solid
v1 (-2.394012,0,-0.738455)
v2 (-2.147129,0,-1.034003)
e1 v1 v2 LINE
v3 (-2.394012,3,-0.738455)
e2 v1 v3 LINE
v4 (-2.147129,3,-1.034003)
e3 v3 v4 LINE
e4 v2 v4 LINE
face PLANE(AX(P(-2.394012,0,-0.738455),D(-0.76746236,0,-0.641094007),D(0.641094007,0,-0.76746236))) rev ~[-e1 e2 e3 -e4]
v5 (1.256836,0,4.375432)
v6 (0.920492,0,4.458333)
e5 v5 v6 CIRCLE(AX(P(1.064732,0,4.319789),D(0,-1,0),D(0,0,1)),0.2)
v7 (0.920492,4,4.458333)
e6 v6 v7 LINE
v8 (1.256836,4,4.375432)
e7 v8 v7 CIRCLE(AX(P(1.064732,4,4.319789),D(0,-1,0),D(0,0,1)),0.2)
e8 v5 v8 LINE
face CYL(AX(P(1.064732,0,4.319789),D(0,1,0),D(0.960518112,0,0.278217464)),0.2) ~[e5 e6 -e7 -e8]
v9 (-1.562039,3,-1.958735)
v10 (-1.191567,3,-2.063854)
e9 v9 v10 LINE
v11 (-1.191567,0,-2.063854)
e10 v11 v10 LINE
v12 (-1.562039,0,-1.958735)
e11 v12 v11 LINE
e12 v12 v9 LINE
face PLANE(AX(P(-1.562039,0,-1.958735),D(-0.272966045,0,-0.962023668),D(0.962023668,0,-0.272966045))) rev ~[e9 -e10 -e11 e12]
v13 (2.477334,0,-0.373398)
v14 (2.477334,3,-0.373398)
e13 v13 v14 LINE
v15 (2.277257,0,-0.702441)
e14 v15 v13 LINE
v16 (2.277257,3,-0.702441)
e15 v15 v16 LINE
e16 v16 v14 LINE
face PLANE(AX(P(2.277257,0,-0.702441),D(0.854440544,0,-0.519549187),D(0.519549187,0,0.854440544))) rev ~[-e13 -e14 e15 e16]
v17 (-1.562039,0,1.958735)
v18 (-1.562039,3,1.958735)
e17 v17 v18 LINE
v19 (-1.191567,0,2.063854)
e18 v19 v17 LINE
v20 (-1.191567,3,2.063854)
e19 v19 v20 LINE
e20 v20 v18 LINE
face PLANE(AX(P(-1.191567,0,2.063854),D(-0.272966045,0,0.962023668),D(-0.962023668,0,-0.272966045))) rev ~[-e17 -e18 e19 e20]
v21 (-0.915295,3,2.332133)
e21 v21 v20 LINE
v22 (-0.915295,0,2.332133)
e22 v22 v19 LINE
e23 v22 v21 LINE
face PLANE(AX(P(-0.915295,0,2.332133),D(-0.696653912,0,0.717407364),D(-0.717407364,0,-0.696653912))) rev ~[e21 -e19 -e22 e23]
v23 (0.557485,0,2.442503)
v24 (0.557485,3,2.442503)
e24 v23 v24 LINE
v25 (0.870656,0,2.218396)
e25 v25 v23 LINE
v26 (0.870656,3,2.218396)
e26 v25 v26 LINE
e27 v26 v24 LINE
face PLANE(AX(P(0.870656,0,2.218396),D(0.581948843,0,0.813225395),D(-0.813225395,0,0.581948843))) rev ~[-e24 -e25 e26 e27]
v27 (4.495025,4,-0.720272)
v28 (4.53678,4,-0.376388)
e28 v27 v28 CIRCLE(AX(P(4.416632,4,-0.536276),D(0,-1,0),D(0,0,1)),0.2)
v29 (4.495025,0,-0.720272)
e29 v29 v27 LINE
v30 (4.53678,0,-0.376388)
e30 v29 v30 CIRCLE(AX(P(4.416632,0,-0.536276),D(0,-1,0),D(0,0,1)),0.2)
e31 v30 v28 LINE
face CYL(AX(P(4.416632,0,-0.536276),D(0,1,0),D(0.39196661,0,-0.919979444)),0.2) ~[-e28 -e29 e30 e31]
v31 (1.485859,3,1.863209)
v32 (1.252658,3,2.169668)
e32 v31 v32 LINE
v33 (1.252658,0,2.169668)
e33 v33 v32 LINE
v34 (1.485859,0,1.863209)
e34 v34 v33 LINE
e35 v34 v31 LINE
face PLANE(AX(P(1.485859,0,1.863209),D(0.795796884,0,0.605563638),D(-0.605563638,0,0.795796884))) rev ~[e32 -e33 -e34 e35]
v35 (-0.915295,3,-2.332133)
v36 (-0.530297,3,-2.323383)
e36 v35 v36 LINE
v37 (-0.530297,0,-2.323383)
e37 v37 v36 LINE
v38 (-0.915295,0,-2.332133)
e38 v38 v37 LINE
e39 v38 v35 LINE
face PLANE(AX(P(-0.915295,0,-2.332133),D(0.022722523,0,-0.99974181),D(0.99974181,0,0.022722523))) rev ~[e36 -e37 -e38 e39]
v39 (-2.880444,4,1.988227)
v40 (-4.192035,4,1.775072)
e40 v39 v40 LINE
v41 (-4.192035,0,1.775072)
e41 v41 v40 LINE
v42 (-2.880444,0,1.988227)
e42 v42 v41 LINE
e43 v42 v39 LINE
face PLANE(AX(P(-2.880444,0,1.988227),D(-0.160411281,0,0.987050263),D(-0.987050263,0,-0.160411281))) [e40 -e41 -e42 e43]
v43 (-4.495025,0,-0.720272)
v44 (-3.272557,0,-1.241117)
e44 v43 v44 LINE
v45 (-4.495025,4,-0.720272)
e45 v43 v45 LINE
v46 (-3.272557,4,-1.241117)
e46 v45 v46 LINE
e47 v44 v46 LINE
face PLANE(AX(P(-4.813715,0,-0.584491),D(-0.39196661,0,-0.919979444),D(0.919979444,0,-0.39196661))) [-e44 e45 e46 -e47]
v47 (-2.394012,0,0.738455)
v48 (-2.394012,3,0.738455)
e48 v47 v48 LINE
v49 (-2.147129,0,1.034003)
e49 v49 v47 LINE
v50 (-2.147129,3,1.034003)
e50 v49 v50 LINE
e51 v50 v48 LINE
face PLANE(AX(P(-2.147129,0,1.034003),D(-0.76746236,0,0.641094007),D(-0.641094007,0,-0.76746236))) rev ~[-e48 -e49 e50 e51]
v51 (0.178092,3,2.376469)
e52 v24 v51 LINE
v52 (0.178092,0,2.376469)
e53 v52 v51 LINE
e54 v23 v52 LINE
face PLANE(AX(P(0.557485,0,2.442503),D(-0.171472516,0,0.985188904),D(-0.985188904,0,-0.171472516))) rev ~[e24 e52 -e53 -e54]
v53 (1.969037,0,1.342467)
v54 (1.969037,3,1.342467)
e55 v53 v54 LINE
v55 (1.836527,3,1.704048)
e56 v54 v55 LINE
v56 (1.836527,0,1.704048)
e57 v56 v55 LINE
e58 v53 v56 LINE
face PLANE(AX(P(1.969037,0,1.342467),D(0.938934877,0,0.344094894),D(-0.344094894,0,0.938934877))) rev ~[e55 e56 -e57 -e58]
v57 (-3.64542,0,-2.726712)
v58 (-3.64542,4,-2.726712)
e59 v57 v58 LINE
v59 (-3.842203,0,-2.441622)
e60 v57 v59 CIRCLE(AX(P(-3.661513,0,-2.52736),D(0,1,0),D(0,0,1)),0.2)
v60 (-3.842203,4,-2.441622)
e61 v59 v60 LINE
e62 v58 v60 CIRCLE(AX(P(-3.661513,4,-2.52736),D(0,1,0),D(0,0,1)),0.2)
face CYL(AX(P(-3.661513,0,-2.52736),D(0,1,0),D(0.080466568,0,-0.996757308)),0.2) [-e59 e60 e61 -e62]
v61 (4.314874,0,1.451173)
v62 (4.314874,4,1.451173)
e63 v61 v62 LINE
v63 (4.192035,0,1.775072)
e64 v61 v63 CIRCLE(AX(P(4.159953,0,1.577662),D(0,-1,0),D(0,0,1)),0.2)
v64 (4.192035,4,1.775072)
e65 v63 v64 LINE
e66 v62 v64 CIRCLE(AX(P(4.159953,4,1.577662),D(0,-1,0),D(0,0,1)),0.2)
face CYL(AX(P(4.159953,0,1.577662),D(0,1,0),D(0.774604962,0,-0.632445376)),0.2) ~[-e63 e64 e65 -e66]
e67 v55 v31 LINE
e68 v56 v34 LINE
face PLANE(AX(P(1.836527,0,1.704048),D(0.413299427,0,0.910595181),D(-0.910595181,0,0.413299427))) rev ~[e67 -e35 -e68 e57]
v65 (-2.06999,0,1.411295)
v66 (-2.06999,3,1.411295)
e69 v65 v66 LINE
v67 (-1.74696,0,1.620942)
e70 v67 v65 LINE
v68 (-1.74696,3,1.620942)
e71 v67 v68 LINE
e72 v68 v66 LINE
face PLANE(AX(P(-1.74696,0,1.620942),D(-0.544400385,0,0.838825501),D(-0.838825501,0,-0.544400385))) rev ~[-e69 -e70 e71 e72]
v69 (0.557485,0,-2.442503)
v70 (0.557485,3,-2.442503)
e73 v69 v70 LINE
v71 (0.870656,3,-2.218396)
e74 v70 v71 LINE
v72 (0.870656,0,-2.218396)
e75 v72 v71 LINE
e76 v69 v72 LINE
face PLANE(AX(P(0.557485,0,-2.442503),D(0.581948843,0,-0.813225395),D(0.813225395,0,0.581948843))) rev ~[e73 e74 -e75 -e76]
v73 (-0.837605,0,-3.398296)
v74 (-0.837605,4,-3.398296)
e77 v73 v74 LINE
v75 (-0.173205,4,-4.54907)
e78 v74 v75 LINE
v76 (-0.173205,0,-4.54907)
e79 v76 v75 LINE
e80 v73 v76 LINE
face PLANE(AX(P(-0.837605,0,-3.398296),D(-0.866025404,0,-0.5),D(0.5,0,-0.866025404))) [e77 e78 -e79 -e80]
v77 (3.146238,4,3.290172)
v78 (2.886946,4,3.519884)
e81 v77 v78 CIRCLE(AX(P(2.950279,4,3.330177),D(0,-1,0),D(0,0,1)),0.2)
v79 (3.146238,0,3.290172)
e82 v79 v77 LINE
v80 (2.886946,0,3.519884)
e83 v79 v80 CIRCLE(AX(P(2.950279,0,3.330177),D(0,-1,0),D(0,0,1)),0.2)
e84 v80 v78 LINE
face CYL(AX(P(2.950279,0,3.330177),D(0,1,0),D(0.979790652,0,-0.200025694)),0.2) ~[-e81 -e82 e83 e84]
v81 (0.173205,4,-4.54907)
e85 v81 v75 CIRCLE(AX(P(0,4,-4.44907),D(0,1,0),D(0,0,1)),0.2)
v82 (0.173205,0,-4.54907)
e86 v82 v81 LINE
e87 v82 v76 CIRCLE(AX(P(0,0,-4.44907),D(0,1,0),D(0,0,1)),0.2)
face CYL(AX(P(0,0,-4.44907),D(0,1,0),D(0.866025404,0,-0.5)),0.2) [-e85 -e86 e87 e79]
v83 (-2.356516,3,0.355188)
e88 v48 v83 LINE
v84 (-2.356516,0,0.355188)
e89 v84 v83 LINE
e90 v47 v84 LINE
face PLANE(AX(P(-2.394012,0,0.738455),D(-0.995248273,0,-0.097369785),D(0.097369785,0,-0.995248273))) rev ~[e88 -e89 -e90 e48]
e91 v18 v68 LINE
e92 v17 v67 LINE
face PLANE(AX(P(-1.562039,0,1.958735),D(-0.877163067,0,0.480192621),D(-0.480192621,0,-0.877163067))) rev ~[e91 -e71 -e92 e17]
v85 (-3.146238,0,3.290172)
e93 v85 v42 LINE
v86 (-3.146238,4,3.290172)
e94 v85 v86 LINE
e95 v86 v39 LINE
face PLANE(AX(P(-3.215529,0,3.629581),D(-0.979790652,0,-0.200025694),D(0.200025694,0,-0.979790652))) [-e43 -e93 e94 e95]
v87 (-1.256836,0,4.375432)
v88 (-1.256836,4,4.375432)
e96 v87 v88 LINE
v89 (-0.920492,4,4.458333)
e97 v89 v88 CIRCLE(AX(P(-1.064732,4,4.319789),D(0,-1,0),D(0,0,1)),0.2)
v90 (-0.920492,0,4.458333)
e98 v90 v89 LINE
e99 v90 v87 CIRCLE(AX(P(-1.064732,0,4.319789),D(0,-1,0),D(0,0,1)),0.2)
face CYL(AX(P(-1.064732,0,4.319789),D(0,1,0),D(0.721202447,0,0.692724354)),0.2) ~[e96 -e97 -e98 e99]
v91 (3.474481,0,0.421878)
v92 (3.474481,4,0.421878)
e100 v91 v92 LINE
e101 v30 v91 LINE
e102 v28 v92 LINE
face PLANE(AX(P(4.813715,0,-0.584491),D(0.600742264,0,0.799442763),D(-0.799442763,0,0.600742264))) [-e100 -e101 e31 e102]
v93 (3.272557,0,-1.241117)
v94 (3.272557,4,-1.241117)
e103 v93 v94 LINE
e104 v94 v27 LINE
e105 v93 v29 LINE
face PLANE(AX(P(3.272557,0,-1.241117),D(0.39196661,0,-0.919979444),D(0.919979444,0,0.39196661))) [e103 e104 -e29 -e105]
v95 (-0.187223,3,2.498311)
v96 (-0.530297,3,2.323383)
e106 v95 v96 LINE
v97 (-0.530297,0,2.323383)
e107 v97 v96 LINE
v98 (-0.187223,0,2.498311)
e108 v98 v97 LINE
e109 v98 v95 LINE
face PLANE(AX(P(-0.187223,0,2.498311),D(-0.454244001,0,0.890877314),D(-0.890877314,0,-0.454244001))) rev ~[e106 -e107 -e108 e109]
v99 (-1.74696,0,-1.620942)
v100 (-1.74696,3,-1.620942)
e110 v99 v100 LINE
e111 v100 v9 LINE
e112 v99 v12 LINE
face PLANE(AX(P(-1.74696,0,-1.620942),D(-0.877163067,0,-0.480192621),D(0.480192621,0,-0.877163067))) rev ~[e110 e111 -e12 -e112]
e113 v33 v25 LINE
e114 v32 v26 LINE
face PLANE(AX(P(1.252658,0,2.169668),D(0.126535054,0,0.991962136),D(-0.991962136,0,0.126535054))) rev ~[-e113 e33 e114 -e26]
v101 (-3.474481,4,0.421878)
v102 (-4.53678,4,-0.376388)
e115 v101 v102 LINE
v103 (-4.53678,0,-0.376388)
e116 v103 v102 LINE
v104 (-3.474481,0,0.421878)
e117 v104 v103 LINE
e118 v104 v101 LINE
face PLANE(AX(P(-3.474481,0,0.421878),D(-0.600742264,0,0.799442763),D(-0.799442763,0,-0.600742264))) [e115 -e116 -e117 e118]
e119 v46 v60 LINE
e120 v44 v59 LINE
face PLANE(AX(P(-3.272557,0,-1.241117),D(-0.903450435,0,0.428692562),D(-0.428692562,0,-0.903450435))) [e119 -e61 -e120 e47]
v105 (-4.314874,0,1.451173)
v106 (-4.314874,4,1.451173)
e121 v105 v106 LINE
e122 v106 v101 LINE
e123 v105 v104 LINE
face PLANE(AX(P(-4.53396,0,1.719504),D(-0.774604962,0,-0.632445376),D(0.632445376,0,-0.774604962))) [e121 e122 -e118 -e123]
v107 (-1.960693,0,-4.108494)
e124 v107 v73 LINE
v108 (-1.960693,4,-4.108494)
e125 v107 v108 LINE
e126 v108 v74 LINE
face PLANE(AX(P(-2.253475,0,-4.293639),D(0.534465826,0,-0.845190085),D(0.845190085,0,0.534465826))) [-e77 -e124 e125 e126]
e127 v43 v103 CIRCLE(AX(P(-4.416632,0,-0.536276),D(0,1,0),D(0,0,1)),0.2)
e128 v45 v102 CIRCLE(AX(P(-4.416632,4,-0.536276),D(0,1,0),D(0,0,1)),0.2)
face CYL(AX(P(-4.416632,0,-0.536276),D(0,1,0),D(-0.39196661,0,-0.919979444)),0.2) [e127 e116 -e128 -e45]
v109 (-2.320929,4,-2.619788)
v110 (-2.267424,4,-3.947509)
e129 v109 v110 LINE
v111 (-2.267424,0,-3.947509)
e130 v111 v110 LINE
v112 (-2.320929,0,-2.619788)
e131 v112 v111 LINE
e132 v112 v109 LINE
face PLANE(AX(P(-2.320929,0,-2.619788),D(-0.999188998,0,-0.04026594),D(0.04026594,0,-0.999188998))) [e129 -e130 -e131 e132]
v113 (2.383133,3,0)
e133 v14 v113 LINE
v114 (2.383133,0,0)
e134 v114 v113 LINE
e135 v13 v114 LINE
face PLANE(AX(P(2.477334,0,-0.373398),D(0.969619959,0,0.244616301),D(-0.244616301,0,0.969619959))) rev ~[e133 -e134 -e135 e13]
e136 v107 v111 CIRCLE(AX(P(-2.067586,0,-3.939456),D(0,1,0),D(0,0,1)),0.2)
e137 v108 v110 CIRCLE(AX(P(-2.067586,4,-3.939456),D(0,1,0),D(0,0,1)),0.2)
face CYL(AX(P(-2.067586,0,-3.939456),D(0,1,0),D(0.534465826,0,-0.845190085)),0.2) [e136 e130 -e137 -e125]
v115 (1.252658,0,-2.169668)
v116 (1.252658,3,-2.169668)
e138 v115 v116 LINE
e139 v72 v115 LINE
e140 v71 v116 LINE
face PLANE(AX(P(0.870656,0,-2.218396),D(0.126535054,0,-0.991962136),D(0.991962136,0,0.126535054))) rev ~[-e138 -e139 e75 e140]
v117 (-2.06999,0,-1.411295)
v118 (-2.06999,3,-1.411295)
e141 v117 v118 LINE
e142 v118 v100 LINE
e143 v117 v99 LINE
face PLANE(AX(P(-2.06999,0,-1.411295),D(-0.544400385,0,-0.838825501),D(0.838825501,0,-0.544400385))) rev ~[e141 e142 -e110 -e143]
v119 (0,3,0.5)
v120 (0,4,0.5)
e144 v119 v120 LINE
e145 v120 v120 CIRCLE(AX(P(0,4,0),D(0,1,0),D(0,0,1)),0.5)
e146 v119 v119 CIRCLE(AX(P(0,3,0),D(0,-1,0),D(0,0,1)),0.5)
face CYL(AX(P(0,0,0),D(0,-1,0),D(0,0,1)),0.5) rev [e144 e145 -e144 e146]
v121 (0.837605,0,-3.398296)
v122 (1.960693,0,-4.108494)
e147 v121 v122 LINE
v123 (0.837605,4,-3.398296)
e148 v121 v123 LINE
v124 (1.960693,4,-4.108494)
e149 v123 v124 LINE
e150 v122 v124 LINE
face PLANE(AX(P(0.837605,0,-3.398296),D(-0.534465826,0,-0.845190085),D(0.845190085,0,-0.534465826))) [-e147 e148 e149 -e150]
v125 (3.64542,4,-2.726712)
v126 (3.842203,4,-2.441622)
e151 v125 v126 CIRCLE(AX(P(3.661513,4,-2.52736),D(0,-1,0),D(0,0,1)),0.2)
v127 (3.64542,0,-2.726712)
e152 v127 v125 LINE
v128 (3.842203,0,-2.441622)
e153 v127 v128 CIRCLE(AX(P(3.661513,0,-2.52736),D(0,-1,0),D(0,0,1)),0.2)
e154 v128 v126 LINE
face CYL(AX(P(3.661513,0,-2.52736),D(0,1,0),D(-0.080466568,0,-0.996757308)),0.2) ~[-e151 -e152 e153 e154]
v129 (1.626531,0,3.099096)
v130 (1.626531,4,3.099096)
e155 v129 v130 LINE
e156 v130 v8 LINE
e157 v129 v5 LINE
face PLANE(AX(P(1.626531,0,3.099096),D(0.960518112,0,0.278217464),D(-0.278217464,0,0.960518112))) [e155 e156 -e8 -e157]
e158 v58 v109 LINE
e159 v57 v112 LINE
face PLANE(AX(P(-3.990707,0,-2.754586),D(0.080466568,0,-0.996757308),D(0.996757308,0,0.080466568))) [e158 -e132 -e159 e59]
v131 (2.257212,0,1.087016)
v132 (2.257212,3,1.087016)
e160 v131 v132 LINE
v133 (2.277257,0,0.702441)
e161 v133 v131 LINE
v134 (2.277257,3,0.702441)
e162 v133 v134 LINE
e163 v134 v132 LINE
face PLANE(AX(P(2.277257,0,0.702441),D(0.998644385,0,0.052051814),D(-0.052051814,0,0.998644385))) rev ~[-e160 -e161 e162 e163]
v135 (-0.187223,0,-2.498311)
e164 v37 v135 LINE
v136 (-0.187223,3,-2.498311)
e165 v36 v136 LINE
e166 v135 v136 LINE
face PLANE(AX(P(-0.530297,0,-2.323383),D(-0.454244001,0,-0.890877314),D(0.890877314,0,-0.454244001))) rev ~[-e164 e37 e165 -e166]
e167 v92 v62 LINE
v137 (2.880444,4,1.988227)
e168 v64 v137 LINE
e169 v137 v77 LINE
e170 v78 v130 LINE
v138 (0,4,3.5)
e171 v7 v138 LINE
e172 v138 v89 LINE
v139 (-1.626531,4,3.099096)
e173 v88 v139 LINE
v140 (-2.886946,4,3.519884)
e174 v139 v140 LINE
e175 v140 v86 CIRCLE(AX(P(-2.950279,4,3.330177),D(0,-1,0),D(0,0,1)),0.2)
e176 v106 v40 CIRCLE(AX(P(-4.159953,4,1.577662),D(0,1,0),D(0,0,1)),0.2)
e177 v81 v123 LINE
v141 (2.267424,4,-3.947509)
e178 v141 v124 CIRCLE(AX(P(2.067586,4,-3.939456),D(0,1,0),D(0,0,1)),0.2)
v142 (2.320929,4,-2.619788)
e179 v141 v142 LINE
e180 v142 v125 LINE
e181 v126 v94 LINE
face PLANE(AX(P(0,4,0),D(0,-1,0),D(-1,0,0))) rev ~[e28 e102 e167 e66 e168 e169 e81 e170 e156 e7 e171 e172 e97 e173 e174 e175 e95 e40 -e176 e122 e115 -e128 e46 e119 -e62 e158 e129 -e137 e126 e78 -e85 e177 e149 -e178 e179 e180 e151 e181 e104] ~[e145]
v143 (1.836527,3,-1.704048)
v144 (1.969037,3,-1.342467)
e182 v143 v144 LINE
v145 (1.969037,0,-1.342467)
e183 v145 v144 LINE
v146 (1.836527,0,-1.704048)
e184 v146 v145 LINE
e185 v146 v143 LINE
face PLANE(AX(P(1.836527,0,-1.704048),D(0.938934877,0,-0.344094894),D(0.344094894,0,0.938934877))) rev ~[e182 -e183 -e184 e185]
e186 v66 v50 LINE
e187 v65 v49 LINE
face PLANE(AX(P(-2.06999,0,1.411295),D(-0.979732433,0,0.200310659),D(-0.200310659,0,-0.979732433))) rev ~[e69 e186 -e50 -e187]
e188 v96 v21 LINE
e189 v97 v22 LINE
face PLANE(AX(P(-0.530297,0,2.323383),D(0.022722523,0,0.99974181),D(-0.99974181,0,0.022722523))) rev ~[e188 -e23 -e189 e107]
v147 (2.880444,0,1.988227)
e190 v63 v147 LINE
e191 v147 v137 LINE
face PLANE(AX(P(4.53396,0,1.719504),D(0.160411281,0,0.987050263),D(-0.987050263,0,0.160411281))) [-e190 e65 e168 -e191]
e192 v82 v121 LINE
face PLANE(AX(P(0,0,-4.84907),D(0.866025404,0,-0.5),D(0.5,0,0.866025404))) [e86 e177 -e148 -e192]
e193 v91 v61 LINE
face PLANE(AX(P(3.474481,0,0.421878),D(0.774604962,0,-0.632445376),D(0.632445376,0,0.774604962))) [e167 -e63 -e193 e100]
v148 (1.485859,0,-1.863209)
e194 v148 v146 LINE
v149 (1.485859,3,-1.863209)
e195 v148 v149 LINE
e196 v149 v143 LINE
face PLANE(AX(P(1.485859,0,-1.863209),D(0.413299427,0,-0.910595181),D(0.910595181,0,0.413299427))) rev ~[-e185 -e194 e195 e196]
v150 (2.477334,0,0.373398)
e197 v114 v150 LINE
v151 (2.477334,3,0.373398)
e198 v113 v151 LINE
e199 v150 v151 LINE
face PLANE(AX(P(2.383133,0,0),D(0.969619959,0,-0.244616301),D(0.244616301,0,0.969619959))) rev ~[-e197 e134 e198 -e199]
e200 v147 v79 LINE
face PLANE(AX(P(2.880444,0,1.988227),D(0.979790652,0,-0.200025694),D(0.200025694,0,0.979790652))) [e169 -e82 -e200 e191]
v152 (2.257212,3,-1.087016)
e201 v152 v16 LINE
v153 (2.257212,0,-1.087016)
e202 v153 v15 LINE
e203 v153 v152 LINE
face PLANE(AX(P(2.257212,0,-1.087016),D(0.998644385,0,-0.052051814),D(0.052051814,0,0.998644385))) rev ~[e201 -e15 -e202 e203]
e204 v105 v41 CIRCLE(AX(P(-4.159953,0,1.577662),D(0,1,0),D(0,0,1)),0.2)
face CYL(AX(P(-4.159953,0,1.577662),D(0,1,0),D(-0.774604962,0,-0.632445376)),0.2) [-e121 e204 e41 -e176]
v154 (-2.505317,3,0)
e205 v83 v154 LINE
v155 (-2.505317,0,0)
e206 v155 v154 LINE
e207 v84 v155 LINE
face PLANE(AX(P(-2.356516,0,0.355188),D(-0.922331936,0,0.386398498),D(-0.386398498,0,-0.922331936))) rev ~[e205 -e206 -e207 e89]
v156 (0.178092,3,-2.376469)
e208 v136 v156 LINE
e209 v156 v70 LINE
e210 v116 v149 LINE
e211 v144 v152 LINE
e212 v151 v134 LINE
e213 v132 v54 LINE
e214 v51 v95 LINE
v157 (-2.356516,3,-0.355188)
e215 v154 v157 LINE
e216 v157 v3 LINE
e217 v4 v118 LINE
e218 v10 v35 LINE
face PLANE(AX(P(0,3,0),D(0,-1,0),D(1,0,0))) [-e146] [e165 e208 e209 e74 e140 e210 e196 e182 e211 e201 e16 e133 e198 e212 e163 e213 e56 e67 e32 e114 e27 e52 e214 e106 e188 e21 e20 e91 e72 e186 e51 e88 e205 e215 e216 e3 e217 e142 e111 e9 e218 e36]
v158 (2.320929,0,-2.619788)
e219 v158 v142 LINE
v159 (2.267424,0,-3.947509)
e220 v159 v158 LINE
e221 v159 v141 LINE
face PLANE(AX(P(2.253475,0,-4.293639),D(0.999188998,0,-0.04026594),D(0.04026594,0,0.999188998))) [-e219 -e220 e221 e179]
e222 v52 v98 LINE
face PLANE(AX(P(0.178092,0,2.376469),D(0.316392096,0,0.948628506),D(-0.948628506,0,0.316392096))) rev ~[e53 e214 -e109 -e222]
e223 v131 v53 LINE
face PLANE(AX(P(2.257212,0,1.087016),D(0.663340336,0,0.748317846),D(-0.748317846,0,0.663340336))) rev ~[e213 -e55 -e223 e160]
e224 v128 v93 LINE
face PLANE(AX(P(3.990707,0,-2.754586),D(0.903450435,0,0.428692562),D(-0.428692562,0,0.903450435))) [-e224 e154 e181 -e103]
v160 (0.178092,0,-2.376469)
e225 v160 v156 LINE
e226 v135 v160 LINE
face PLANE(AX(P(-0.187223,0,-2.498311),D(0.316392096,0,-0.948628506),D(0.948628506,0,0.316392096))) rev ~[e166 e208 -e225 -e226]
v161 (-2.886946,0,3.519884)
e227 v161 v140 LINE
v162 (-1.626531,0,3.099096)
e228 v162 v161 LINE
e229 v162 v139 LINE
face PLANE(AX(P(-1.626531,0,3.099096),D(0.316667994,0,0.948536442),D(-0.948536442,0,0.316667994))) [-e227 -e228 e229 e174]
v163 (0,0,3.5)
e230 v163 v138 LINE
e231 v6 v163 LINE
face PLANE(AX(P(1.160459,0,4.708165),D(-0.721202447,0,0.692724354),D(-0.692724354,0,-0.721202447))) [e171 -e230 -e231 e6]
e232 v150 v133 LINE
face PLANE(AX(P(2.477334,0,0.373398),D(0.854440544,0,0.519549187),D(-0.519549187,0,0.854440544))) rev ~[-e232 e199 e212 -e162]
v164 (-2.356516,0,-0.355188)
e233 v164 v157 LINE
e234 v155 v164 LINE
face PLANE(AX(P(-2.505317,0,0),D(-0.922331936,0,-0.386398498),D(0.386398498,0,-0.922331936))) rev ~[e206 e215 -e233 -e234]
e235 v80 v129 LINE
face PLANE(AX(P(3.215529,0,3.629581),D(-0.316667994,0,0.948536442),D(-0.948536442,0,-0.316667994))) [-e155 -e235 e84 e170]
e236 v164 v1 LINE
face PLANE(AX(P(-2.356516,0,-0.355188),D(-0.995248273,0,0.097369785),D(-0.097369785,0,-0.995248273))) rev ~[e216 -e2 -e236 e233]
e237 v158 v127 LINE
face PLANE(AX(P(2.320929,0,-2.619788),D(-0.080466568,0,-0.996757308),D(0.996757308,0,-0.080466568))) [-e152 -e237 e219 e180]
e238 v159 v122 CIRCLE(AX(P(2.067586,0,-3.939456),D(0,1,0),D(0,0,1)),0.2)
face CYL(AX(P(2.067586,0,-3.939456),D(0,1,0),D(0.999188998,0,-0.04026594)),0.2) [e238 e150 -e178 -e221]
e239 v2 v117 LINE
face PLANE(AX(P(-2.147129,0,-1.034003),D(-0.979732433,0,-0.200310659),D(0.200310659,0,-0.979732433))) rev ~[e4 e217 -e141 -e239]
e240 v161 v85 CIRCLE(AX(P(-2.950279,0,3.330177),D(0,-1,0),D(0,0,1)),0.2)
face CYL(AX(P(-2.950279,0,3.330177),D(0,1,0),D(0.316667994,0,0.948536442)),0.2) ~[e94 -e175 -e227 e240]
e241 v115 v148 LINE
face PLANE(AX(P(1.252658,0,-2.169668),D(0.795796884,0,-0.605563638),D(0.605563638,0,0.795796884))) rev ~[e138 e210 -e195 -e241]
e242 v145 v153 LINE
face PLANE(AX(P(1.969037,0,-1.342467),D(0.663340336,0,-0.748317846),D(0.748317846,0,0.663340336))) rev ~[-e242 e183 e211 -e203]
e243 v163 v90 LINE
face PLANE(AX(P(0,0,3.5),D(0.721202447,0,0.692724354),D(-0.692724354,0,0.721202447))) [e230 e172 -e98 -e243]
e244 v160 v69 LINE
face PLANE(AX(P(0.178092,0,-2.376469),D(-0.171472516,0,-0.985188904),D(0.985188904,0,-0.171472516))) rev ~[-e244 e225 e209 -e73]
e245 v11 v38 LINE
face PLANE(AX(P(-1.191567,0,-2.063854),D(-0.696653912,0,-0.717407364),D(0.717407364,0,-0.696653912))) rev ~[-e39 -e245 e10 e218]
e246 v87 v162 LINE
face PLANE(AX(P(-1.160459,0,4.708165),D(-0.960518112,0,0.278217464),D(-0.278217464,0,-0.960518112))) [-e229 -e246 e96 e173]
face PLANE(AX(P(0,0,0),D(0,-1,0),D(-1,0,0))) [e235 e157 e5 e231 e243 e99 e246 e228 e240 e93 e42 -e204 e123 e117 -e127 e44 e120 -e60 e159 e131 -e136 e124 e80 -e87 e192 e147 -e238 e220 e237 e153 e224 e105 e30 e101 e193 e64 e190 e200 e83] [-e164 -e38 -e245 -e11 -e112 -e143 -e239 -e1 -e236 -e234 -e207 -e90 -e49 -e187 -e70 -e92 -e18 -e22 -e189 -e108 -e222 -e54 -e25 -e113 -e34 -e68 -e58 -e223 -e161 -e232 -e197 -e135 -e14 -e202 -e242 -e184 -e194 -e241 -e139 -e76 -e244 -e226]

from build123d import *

# Parameters (mm, degrees)
SKETCH1_R           = 0.5
BOSS_EXTRUDE1_DEPTH = 4
CUT_EXTRUDE1_DEPTH  = 3
FILLET1_R           = 0.2


with BuildPart() as part:
    # Sketch1 → Boss-Extrude1 (new body)
    with BuildSketch(Plane(origin=(0, 0, 0), x_dir=(1, 0, 0), z_dir=(0, 1, 0))):
        Polygon((2.320929304, 2.619787619), (3.990706765, 2.754585991), (3.272556849, 1.241117105), (4.813715291, 0.584490857), (3.474481059, -0.421878381), (4.533959656, -1.719504088), (2.880443531, -1.988226614), (3.215528503, -3.629581369), (1.626531102, -3.09909609), (1.160458522, -4.708165299), (0, -3.5), (-1.160458522, -4.708165299), (-1.626531102, -3.09909609), (-3.215528503, -3.629581369), (-2.880443531, -1.988226614), (-4.533959656, -1.719504088), (-3.474481059, -0.421878381), (-4.813715291, 0.584490857), (-3.272556849, 1.241117105), (-3.990706765, 2.754585991), (-2.320929304, 2.619787619), (-2.253475412, 4.293638671), (-0.837604825, 3.398296361), (0, 4.849070475), (0.837604825, 3.398296361), (2.253475412, 4.293638671), align=None)
        with Locations(Location((0, 0, 0), (0, 0, 270))):
            Circle(SKETCH1_R, mode=Mode.SUBTRACT)
    extrude(amount=BOSS_EXTRUDE1_DEPTH)

    # Sketch2 → Cut-Extrude1 (cut)
    with BuildSketch(Plane.XZ):
        Polygon((-2.356515562, -0.355187571), (-2.394012407, -0.73845503), (-2.147128813, -1.03400274), (-2.069989712, -1.411295089), (-1.746960246, -1.620942227), (-1.562039347, -1.958735387), (-1.191566595, -2.063853884), (-0.915294931, -2.332133449), (-0.530297023, -2.323383066), (-0.187222544, -2.49831122), (0.178091766, -2.376469467), (0.557485388, -2.442503076), (0.870656321, -2.218396127), (1.252658297, -2.169667815), (1.485859241, -1.863208555), (1.836527019, -1.704048047), (1.969037046, -1.342466727), (2.257212255, -1.087016131), (2.27725727, -0.702440839), (2.477334277, -0.373398063), (2.383133191, 0), (2.477334277, 0.373398063), (2.27725727, 0.702440839), (2.257212255, 1.087016131), (1.969037046, 1.342466727), (1.836527019, 1.704048047), (1.485859241, 1.863208555), (1.252658297, 2.169667815), (0.870656321, 2.218396127), (0.557485388, 2.442503076), (0.178091766, 2.376469467), (-0.187222544, 2.49831122), (-0.530297023, 2.323383066), (-0.915294931, 2.332133449), (-1.191566595, 2.063853884), (-1.562039347, 1.958735387), (-1.746960246, 1.620942227), (-2.069989712, 1.411295089), (-2.147128813, 1.03400274), (-2.394012407, 0.73845503), (-2.356515562, 0.355187571), (-2.505316594, 0), align=None)
    extrude(amount=-CUT_EXTRUDE1_DEPTH, mode=Mode.SUBTRACT)

    # Fillet1
    fillet1_edges = [part.edges().sort_by_distance(p)[0] for p in [
        (4.813715291, 2, -0.584490857),
        (4.533959656, 2, 1.719504088),
        (3.215528503, 2, 3.629581369),
        (1.160458522, 2, 4.708165299),
        (-1.160458522, 2, 4.708165299),
        (-3.215528503, 2, 3.629581369),
        (-4.533959656, 2, 1.719504088),
        (-4.813715291, 2, -0.584490857),
        (-3.990706765, 2, -2.754585991),
        (-2.253475412, 2, -4.293638671),
        (0, 2, -4.849070475),
        (2.253475412, 2, -4.293638671),
        (3.990706765, 2, -2.754585991),
    ]]
    fillet(fillet1_edges, radius=FILLET1_R)


solid = part.part
